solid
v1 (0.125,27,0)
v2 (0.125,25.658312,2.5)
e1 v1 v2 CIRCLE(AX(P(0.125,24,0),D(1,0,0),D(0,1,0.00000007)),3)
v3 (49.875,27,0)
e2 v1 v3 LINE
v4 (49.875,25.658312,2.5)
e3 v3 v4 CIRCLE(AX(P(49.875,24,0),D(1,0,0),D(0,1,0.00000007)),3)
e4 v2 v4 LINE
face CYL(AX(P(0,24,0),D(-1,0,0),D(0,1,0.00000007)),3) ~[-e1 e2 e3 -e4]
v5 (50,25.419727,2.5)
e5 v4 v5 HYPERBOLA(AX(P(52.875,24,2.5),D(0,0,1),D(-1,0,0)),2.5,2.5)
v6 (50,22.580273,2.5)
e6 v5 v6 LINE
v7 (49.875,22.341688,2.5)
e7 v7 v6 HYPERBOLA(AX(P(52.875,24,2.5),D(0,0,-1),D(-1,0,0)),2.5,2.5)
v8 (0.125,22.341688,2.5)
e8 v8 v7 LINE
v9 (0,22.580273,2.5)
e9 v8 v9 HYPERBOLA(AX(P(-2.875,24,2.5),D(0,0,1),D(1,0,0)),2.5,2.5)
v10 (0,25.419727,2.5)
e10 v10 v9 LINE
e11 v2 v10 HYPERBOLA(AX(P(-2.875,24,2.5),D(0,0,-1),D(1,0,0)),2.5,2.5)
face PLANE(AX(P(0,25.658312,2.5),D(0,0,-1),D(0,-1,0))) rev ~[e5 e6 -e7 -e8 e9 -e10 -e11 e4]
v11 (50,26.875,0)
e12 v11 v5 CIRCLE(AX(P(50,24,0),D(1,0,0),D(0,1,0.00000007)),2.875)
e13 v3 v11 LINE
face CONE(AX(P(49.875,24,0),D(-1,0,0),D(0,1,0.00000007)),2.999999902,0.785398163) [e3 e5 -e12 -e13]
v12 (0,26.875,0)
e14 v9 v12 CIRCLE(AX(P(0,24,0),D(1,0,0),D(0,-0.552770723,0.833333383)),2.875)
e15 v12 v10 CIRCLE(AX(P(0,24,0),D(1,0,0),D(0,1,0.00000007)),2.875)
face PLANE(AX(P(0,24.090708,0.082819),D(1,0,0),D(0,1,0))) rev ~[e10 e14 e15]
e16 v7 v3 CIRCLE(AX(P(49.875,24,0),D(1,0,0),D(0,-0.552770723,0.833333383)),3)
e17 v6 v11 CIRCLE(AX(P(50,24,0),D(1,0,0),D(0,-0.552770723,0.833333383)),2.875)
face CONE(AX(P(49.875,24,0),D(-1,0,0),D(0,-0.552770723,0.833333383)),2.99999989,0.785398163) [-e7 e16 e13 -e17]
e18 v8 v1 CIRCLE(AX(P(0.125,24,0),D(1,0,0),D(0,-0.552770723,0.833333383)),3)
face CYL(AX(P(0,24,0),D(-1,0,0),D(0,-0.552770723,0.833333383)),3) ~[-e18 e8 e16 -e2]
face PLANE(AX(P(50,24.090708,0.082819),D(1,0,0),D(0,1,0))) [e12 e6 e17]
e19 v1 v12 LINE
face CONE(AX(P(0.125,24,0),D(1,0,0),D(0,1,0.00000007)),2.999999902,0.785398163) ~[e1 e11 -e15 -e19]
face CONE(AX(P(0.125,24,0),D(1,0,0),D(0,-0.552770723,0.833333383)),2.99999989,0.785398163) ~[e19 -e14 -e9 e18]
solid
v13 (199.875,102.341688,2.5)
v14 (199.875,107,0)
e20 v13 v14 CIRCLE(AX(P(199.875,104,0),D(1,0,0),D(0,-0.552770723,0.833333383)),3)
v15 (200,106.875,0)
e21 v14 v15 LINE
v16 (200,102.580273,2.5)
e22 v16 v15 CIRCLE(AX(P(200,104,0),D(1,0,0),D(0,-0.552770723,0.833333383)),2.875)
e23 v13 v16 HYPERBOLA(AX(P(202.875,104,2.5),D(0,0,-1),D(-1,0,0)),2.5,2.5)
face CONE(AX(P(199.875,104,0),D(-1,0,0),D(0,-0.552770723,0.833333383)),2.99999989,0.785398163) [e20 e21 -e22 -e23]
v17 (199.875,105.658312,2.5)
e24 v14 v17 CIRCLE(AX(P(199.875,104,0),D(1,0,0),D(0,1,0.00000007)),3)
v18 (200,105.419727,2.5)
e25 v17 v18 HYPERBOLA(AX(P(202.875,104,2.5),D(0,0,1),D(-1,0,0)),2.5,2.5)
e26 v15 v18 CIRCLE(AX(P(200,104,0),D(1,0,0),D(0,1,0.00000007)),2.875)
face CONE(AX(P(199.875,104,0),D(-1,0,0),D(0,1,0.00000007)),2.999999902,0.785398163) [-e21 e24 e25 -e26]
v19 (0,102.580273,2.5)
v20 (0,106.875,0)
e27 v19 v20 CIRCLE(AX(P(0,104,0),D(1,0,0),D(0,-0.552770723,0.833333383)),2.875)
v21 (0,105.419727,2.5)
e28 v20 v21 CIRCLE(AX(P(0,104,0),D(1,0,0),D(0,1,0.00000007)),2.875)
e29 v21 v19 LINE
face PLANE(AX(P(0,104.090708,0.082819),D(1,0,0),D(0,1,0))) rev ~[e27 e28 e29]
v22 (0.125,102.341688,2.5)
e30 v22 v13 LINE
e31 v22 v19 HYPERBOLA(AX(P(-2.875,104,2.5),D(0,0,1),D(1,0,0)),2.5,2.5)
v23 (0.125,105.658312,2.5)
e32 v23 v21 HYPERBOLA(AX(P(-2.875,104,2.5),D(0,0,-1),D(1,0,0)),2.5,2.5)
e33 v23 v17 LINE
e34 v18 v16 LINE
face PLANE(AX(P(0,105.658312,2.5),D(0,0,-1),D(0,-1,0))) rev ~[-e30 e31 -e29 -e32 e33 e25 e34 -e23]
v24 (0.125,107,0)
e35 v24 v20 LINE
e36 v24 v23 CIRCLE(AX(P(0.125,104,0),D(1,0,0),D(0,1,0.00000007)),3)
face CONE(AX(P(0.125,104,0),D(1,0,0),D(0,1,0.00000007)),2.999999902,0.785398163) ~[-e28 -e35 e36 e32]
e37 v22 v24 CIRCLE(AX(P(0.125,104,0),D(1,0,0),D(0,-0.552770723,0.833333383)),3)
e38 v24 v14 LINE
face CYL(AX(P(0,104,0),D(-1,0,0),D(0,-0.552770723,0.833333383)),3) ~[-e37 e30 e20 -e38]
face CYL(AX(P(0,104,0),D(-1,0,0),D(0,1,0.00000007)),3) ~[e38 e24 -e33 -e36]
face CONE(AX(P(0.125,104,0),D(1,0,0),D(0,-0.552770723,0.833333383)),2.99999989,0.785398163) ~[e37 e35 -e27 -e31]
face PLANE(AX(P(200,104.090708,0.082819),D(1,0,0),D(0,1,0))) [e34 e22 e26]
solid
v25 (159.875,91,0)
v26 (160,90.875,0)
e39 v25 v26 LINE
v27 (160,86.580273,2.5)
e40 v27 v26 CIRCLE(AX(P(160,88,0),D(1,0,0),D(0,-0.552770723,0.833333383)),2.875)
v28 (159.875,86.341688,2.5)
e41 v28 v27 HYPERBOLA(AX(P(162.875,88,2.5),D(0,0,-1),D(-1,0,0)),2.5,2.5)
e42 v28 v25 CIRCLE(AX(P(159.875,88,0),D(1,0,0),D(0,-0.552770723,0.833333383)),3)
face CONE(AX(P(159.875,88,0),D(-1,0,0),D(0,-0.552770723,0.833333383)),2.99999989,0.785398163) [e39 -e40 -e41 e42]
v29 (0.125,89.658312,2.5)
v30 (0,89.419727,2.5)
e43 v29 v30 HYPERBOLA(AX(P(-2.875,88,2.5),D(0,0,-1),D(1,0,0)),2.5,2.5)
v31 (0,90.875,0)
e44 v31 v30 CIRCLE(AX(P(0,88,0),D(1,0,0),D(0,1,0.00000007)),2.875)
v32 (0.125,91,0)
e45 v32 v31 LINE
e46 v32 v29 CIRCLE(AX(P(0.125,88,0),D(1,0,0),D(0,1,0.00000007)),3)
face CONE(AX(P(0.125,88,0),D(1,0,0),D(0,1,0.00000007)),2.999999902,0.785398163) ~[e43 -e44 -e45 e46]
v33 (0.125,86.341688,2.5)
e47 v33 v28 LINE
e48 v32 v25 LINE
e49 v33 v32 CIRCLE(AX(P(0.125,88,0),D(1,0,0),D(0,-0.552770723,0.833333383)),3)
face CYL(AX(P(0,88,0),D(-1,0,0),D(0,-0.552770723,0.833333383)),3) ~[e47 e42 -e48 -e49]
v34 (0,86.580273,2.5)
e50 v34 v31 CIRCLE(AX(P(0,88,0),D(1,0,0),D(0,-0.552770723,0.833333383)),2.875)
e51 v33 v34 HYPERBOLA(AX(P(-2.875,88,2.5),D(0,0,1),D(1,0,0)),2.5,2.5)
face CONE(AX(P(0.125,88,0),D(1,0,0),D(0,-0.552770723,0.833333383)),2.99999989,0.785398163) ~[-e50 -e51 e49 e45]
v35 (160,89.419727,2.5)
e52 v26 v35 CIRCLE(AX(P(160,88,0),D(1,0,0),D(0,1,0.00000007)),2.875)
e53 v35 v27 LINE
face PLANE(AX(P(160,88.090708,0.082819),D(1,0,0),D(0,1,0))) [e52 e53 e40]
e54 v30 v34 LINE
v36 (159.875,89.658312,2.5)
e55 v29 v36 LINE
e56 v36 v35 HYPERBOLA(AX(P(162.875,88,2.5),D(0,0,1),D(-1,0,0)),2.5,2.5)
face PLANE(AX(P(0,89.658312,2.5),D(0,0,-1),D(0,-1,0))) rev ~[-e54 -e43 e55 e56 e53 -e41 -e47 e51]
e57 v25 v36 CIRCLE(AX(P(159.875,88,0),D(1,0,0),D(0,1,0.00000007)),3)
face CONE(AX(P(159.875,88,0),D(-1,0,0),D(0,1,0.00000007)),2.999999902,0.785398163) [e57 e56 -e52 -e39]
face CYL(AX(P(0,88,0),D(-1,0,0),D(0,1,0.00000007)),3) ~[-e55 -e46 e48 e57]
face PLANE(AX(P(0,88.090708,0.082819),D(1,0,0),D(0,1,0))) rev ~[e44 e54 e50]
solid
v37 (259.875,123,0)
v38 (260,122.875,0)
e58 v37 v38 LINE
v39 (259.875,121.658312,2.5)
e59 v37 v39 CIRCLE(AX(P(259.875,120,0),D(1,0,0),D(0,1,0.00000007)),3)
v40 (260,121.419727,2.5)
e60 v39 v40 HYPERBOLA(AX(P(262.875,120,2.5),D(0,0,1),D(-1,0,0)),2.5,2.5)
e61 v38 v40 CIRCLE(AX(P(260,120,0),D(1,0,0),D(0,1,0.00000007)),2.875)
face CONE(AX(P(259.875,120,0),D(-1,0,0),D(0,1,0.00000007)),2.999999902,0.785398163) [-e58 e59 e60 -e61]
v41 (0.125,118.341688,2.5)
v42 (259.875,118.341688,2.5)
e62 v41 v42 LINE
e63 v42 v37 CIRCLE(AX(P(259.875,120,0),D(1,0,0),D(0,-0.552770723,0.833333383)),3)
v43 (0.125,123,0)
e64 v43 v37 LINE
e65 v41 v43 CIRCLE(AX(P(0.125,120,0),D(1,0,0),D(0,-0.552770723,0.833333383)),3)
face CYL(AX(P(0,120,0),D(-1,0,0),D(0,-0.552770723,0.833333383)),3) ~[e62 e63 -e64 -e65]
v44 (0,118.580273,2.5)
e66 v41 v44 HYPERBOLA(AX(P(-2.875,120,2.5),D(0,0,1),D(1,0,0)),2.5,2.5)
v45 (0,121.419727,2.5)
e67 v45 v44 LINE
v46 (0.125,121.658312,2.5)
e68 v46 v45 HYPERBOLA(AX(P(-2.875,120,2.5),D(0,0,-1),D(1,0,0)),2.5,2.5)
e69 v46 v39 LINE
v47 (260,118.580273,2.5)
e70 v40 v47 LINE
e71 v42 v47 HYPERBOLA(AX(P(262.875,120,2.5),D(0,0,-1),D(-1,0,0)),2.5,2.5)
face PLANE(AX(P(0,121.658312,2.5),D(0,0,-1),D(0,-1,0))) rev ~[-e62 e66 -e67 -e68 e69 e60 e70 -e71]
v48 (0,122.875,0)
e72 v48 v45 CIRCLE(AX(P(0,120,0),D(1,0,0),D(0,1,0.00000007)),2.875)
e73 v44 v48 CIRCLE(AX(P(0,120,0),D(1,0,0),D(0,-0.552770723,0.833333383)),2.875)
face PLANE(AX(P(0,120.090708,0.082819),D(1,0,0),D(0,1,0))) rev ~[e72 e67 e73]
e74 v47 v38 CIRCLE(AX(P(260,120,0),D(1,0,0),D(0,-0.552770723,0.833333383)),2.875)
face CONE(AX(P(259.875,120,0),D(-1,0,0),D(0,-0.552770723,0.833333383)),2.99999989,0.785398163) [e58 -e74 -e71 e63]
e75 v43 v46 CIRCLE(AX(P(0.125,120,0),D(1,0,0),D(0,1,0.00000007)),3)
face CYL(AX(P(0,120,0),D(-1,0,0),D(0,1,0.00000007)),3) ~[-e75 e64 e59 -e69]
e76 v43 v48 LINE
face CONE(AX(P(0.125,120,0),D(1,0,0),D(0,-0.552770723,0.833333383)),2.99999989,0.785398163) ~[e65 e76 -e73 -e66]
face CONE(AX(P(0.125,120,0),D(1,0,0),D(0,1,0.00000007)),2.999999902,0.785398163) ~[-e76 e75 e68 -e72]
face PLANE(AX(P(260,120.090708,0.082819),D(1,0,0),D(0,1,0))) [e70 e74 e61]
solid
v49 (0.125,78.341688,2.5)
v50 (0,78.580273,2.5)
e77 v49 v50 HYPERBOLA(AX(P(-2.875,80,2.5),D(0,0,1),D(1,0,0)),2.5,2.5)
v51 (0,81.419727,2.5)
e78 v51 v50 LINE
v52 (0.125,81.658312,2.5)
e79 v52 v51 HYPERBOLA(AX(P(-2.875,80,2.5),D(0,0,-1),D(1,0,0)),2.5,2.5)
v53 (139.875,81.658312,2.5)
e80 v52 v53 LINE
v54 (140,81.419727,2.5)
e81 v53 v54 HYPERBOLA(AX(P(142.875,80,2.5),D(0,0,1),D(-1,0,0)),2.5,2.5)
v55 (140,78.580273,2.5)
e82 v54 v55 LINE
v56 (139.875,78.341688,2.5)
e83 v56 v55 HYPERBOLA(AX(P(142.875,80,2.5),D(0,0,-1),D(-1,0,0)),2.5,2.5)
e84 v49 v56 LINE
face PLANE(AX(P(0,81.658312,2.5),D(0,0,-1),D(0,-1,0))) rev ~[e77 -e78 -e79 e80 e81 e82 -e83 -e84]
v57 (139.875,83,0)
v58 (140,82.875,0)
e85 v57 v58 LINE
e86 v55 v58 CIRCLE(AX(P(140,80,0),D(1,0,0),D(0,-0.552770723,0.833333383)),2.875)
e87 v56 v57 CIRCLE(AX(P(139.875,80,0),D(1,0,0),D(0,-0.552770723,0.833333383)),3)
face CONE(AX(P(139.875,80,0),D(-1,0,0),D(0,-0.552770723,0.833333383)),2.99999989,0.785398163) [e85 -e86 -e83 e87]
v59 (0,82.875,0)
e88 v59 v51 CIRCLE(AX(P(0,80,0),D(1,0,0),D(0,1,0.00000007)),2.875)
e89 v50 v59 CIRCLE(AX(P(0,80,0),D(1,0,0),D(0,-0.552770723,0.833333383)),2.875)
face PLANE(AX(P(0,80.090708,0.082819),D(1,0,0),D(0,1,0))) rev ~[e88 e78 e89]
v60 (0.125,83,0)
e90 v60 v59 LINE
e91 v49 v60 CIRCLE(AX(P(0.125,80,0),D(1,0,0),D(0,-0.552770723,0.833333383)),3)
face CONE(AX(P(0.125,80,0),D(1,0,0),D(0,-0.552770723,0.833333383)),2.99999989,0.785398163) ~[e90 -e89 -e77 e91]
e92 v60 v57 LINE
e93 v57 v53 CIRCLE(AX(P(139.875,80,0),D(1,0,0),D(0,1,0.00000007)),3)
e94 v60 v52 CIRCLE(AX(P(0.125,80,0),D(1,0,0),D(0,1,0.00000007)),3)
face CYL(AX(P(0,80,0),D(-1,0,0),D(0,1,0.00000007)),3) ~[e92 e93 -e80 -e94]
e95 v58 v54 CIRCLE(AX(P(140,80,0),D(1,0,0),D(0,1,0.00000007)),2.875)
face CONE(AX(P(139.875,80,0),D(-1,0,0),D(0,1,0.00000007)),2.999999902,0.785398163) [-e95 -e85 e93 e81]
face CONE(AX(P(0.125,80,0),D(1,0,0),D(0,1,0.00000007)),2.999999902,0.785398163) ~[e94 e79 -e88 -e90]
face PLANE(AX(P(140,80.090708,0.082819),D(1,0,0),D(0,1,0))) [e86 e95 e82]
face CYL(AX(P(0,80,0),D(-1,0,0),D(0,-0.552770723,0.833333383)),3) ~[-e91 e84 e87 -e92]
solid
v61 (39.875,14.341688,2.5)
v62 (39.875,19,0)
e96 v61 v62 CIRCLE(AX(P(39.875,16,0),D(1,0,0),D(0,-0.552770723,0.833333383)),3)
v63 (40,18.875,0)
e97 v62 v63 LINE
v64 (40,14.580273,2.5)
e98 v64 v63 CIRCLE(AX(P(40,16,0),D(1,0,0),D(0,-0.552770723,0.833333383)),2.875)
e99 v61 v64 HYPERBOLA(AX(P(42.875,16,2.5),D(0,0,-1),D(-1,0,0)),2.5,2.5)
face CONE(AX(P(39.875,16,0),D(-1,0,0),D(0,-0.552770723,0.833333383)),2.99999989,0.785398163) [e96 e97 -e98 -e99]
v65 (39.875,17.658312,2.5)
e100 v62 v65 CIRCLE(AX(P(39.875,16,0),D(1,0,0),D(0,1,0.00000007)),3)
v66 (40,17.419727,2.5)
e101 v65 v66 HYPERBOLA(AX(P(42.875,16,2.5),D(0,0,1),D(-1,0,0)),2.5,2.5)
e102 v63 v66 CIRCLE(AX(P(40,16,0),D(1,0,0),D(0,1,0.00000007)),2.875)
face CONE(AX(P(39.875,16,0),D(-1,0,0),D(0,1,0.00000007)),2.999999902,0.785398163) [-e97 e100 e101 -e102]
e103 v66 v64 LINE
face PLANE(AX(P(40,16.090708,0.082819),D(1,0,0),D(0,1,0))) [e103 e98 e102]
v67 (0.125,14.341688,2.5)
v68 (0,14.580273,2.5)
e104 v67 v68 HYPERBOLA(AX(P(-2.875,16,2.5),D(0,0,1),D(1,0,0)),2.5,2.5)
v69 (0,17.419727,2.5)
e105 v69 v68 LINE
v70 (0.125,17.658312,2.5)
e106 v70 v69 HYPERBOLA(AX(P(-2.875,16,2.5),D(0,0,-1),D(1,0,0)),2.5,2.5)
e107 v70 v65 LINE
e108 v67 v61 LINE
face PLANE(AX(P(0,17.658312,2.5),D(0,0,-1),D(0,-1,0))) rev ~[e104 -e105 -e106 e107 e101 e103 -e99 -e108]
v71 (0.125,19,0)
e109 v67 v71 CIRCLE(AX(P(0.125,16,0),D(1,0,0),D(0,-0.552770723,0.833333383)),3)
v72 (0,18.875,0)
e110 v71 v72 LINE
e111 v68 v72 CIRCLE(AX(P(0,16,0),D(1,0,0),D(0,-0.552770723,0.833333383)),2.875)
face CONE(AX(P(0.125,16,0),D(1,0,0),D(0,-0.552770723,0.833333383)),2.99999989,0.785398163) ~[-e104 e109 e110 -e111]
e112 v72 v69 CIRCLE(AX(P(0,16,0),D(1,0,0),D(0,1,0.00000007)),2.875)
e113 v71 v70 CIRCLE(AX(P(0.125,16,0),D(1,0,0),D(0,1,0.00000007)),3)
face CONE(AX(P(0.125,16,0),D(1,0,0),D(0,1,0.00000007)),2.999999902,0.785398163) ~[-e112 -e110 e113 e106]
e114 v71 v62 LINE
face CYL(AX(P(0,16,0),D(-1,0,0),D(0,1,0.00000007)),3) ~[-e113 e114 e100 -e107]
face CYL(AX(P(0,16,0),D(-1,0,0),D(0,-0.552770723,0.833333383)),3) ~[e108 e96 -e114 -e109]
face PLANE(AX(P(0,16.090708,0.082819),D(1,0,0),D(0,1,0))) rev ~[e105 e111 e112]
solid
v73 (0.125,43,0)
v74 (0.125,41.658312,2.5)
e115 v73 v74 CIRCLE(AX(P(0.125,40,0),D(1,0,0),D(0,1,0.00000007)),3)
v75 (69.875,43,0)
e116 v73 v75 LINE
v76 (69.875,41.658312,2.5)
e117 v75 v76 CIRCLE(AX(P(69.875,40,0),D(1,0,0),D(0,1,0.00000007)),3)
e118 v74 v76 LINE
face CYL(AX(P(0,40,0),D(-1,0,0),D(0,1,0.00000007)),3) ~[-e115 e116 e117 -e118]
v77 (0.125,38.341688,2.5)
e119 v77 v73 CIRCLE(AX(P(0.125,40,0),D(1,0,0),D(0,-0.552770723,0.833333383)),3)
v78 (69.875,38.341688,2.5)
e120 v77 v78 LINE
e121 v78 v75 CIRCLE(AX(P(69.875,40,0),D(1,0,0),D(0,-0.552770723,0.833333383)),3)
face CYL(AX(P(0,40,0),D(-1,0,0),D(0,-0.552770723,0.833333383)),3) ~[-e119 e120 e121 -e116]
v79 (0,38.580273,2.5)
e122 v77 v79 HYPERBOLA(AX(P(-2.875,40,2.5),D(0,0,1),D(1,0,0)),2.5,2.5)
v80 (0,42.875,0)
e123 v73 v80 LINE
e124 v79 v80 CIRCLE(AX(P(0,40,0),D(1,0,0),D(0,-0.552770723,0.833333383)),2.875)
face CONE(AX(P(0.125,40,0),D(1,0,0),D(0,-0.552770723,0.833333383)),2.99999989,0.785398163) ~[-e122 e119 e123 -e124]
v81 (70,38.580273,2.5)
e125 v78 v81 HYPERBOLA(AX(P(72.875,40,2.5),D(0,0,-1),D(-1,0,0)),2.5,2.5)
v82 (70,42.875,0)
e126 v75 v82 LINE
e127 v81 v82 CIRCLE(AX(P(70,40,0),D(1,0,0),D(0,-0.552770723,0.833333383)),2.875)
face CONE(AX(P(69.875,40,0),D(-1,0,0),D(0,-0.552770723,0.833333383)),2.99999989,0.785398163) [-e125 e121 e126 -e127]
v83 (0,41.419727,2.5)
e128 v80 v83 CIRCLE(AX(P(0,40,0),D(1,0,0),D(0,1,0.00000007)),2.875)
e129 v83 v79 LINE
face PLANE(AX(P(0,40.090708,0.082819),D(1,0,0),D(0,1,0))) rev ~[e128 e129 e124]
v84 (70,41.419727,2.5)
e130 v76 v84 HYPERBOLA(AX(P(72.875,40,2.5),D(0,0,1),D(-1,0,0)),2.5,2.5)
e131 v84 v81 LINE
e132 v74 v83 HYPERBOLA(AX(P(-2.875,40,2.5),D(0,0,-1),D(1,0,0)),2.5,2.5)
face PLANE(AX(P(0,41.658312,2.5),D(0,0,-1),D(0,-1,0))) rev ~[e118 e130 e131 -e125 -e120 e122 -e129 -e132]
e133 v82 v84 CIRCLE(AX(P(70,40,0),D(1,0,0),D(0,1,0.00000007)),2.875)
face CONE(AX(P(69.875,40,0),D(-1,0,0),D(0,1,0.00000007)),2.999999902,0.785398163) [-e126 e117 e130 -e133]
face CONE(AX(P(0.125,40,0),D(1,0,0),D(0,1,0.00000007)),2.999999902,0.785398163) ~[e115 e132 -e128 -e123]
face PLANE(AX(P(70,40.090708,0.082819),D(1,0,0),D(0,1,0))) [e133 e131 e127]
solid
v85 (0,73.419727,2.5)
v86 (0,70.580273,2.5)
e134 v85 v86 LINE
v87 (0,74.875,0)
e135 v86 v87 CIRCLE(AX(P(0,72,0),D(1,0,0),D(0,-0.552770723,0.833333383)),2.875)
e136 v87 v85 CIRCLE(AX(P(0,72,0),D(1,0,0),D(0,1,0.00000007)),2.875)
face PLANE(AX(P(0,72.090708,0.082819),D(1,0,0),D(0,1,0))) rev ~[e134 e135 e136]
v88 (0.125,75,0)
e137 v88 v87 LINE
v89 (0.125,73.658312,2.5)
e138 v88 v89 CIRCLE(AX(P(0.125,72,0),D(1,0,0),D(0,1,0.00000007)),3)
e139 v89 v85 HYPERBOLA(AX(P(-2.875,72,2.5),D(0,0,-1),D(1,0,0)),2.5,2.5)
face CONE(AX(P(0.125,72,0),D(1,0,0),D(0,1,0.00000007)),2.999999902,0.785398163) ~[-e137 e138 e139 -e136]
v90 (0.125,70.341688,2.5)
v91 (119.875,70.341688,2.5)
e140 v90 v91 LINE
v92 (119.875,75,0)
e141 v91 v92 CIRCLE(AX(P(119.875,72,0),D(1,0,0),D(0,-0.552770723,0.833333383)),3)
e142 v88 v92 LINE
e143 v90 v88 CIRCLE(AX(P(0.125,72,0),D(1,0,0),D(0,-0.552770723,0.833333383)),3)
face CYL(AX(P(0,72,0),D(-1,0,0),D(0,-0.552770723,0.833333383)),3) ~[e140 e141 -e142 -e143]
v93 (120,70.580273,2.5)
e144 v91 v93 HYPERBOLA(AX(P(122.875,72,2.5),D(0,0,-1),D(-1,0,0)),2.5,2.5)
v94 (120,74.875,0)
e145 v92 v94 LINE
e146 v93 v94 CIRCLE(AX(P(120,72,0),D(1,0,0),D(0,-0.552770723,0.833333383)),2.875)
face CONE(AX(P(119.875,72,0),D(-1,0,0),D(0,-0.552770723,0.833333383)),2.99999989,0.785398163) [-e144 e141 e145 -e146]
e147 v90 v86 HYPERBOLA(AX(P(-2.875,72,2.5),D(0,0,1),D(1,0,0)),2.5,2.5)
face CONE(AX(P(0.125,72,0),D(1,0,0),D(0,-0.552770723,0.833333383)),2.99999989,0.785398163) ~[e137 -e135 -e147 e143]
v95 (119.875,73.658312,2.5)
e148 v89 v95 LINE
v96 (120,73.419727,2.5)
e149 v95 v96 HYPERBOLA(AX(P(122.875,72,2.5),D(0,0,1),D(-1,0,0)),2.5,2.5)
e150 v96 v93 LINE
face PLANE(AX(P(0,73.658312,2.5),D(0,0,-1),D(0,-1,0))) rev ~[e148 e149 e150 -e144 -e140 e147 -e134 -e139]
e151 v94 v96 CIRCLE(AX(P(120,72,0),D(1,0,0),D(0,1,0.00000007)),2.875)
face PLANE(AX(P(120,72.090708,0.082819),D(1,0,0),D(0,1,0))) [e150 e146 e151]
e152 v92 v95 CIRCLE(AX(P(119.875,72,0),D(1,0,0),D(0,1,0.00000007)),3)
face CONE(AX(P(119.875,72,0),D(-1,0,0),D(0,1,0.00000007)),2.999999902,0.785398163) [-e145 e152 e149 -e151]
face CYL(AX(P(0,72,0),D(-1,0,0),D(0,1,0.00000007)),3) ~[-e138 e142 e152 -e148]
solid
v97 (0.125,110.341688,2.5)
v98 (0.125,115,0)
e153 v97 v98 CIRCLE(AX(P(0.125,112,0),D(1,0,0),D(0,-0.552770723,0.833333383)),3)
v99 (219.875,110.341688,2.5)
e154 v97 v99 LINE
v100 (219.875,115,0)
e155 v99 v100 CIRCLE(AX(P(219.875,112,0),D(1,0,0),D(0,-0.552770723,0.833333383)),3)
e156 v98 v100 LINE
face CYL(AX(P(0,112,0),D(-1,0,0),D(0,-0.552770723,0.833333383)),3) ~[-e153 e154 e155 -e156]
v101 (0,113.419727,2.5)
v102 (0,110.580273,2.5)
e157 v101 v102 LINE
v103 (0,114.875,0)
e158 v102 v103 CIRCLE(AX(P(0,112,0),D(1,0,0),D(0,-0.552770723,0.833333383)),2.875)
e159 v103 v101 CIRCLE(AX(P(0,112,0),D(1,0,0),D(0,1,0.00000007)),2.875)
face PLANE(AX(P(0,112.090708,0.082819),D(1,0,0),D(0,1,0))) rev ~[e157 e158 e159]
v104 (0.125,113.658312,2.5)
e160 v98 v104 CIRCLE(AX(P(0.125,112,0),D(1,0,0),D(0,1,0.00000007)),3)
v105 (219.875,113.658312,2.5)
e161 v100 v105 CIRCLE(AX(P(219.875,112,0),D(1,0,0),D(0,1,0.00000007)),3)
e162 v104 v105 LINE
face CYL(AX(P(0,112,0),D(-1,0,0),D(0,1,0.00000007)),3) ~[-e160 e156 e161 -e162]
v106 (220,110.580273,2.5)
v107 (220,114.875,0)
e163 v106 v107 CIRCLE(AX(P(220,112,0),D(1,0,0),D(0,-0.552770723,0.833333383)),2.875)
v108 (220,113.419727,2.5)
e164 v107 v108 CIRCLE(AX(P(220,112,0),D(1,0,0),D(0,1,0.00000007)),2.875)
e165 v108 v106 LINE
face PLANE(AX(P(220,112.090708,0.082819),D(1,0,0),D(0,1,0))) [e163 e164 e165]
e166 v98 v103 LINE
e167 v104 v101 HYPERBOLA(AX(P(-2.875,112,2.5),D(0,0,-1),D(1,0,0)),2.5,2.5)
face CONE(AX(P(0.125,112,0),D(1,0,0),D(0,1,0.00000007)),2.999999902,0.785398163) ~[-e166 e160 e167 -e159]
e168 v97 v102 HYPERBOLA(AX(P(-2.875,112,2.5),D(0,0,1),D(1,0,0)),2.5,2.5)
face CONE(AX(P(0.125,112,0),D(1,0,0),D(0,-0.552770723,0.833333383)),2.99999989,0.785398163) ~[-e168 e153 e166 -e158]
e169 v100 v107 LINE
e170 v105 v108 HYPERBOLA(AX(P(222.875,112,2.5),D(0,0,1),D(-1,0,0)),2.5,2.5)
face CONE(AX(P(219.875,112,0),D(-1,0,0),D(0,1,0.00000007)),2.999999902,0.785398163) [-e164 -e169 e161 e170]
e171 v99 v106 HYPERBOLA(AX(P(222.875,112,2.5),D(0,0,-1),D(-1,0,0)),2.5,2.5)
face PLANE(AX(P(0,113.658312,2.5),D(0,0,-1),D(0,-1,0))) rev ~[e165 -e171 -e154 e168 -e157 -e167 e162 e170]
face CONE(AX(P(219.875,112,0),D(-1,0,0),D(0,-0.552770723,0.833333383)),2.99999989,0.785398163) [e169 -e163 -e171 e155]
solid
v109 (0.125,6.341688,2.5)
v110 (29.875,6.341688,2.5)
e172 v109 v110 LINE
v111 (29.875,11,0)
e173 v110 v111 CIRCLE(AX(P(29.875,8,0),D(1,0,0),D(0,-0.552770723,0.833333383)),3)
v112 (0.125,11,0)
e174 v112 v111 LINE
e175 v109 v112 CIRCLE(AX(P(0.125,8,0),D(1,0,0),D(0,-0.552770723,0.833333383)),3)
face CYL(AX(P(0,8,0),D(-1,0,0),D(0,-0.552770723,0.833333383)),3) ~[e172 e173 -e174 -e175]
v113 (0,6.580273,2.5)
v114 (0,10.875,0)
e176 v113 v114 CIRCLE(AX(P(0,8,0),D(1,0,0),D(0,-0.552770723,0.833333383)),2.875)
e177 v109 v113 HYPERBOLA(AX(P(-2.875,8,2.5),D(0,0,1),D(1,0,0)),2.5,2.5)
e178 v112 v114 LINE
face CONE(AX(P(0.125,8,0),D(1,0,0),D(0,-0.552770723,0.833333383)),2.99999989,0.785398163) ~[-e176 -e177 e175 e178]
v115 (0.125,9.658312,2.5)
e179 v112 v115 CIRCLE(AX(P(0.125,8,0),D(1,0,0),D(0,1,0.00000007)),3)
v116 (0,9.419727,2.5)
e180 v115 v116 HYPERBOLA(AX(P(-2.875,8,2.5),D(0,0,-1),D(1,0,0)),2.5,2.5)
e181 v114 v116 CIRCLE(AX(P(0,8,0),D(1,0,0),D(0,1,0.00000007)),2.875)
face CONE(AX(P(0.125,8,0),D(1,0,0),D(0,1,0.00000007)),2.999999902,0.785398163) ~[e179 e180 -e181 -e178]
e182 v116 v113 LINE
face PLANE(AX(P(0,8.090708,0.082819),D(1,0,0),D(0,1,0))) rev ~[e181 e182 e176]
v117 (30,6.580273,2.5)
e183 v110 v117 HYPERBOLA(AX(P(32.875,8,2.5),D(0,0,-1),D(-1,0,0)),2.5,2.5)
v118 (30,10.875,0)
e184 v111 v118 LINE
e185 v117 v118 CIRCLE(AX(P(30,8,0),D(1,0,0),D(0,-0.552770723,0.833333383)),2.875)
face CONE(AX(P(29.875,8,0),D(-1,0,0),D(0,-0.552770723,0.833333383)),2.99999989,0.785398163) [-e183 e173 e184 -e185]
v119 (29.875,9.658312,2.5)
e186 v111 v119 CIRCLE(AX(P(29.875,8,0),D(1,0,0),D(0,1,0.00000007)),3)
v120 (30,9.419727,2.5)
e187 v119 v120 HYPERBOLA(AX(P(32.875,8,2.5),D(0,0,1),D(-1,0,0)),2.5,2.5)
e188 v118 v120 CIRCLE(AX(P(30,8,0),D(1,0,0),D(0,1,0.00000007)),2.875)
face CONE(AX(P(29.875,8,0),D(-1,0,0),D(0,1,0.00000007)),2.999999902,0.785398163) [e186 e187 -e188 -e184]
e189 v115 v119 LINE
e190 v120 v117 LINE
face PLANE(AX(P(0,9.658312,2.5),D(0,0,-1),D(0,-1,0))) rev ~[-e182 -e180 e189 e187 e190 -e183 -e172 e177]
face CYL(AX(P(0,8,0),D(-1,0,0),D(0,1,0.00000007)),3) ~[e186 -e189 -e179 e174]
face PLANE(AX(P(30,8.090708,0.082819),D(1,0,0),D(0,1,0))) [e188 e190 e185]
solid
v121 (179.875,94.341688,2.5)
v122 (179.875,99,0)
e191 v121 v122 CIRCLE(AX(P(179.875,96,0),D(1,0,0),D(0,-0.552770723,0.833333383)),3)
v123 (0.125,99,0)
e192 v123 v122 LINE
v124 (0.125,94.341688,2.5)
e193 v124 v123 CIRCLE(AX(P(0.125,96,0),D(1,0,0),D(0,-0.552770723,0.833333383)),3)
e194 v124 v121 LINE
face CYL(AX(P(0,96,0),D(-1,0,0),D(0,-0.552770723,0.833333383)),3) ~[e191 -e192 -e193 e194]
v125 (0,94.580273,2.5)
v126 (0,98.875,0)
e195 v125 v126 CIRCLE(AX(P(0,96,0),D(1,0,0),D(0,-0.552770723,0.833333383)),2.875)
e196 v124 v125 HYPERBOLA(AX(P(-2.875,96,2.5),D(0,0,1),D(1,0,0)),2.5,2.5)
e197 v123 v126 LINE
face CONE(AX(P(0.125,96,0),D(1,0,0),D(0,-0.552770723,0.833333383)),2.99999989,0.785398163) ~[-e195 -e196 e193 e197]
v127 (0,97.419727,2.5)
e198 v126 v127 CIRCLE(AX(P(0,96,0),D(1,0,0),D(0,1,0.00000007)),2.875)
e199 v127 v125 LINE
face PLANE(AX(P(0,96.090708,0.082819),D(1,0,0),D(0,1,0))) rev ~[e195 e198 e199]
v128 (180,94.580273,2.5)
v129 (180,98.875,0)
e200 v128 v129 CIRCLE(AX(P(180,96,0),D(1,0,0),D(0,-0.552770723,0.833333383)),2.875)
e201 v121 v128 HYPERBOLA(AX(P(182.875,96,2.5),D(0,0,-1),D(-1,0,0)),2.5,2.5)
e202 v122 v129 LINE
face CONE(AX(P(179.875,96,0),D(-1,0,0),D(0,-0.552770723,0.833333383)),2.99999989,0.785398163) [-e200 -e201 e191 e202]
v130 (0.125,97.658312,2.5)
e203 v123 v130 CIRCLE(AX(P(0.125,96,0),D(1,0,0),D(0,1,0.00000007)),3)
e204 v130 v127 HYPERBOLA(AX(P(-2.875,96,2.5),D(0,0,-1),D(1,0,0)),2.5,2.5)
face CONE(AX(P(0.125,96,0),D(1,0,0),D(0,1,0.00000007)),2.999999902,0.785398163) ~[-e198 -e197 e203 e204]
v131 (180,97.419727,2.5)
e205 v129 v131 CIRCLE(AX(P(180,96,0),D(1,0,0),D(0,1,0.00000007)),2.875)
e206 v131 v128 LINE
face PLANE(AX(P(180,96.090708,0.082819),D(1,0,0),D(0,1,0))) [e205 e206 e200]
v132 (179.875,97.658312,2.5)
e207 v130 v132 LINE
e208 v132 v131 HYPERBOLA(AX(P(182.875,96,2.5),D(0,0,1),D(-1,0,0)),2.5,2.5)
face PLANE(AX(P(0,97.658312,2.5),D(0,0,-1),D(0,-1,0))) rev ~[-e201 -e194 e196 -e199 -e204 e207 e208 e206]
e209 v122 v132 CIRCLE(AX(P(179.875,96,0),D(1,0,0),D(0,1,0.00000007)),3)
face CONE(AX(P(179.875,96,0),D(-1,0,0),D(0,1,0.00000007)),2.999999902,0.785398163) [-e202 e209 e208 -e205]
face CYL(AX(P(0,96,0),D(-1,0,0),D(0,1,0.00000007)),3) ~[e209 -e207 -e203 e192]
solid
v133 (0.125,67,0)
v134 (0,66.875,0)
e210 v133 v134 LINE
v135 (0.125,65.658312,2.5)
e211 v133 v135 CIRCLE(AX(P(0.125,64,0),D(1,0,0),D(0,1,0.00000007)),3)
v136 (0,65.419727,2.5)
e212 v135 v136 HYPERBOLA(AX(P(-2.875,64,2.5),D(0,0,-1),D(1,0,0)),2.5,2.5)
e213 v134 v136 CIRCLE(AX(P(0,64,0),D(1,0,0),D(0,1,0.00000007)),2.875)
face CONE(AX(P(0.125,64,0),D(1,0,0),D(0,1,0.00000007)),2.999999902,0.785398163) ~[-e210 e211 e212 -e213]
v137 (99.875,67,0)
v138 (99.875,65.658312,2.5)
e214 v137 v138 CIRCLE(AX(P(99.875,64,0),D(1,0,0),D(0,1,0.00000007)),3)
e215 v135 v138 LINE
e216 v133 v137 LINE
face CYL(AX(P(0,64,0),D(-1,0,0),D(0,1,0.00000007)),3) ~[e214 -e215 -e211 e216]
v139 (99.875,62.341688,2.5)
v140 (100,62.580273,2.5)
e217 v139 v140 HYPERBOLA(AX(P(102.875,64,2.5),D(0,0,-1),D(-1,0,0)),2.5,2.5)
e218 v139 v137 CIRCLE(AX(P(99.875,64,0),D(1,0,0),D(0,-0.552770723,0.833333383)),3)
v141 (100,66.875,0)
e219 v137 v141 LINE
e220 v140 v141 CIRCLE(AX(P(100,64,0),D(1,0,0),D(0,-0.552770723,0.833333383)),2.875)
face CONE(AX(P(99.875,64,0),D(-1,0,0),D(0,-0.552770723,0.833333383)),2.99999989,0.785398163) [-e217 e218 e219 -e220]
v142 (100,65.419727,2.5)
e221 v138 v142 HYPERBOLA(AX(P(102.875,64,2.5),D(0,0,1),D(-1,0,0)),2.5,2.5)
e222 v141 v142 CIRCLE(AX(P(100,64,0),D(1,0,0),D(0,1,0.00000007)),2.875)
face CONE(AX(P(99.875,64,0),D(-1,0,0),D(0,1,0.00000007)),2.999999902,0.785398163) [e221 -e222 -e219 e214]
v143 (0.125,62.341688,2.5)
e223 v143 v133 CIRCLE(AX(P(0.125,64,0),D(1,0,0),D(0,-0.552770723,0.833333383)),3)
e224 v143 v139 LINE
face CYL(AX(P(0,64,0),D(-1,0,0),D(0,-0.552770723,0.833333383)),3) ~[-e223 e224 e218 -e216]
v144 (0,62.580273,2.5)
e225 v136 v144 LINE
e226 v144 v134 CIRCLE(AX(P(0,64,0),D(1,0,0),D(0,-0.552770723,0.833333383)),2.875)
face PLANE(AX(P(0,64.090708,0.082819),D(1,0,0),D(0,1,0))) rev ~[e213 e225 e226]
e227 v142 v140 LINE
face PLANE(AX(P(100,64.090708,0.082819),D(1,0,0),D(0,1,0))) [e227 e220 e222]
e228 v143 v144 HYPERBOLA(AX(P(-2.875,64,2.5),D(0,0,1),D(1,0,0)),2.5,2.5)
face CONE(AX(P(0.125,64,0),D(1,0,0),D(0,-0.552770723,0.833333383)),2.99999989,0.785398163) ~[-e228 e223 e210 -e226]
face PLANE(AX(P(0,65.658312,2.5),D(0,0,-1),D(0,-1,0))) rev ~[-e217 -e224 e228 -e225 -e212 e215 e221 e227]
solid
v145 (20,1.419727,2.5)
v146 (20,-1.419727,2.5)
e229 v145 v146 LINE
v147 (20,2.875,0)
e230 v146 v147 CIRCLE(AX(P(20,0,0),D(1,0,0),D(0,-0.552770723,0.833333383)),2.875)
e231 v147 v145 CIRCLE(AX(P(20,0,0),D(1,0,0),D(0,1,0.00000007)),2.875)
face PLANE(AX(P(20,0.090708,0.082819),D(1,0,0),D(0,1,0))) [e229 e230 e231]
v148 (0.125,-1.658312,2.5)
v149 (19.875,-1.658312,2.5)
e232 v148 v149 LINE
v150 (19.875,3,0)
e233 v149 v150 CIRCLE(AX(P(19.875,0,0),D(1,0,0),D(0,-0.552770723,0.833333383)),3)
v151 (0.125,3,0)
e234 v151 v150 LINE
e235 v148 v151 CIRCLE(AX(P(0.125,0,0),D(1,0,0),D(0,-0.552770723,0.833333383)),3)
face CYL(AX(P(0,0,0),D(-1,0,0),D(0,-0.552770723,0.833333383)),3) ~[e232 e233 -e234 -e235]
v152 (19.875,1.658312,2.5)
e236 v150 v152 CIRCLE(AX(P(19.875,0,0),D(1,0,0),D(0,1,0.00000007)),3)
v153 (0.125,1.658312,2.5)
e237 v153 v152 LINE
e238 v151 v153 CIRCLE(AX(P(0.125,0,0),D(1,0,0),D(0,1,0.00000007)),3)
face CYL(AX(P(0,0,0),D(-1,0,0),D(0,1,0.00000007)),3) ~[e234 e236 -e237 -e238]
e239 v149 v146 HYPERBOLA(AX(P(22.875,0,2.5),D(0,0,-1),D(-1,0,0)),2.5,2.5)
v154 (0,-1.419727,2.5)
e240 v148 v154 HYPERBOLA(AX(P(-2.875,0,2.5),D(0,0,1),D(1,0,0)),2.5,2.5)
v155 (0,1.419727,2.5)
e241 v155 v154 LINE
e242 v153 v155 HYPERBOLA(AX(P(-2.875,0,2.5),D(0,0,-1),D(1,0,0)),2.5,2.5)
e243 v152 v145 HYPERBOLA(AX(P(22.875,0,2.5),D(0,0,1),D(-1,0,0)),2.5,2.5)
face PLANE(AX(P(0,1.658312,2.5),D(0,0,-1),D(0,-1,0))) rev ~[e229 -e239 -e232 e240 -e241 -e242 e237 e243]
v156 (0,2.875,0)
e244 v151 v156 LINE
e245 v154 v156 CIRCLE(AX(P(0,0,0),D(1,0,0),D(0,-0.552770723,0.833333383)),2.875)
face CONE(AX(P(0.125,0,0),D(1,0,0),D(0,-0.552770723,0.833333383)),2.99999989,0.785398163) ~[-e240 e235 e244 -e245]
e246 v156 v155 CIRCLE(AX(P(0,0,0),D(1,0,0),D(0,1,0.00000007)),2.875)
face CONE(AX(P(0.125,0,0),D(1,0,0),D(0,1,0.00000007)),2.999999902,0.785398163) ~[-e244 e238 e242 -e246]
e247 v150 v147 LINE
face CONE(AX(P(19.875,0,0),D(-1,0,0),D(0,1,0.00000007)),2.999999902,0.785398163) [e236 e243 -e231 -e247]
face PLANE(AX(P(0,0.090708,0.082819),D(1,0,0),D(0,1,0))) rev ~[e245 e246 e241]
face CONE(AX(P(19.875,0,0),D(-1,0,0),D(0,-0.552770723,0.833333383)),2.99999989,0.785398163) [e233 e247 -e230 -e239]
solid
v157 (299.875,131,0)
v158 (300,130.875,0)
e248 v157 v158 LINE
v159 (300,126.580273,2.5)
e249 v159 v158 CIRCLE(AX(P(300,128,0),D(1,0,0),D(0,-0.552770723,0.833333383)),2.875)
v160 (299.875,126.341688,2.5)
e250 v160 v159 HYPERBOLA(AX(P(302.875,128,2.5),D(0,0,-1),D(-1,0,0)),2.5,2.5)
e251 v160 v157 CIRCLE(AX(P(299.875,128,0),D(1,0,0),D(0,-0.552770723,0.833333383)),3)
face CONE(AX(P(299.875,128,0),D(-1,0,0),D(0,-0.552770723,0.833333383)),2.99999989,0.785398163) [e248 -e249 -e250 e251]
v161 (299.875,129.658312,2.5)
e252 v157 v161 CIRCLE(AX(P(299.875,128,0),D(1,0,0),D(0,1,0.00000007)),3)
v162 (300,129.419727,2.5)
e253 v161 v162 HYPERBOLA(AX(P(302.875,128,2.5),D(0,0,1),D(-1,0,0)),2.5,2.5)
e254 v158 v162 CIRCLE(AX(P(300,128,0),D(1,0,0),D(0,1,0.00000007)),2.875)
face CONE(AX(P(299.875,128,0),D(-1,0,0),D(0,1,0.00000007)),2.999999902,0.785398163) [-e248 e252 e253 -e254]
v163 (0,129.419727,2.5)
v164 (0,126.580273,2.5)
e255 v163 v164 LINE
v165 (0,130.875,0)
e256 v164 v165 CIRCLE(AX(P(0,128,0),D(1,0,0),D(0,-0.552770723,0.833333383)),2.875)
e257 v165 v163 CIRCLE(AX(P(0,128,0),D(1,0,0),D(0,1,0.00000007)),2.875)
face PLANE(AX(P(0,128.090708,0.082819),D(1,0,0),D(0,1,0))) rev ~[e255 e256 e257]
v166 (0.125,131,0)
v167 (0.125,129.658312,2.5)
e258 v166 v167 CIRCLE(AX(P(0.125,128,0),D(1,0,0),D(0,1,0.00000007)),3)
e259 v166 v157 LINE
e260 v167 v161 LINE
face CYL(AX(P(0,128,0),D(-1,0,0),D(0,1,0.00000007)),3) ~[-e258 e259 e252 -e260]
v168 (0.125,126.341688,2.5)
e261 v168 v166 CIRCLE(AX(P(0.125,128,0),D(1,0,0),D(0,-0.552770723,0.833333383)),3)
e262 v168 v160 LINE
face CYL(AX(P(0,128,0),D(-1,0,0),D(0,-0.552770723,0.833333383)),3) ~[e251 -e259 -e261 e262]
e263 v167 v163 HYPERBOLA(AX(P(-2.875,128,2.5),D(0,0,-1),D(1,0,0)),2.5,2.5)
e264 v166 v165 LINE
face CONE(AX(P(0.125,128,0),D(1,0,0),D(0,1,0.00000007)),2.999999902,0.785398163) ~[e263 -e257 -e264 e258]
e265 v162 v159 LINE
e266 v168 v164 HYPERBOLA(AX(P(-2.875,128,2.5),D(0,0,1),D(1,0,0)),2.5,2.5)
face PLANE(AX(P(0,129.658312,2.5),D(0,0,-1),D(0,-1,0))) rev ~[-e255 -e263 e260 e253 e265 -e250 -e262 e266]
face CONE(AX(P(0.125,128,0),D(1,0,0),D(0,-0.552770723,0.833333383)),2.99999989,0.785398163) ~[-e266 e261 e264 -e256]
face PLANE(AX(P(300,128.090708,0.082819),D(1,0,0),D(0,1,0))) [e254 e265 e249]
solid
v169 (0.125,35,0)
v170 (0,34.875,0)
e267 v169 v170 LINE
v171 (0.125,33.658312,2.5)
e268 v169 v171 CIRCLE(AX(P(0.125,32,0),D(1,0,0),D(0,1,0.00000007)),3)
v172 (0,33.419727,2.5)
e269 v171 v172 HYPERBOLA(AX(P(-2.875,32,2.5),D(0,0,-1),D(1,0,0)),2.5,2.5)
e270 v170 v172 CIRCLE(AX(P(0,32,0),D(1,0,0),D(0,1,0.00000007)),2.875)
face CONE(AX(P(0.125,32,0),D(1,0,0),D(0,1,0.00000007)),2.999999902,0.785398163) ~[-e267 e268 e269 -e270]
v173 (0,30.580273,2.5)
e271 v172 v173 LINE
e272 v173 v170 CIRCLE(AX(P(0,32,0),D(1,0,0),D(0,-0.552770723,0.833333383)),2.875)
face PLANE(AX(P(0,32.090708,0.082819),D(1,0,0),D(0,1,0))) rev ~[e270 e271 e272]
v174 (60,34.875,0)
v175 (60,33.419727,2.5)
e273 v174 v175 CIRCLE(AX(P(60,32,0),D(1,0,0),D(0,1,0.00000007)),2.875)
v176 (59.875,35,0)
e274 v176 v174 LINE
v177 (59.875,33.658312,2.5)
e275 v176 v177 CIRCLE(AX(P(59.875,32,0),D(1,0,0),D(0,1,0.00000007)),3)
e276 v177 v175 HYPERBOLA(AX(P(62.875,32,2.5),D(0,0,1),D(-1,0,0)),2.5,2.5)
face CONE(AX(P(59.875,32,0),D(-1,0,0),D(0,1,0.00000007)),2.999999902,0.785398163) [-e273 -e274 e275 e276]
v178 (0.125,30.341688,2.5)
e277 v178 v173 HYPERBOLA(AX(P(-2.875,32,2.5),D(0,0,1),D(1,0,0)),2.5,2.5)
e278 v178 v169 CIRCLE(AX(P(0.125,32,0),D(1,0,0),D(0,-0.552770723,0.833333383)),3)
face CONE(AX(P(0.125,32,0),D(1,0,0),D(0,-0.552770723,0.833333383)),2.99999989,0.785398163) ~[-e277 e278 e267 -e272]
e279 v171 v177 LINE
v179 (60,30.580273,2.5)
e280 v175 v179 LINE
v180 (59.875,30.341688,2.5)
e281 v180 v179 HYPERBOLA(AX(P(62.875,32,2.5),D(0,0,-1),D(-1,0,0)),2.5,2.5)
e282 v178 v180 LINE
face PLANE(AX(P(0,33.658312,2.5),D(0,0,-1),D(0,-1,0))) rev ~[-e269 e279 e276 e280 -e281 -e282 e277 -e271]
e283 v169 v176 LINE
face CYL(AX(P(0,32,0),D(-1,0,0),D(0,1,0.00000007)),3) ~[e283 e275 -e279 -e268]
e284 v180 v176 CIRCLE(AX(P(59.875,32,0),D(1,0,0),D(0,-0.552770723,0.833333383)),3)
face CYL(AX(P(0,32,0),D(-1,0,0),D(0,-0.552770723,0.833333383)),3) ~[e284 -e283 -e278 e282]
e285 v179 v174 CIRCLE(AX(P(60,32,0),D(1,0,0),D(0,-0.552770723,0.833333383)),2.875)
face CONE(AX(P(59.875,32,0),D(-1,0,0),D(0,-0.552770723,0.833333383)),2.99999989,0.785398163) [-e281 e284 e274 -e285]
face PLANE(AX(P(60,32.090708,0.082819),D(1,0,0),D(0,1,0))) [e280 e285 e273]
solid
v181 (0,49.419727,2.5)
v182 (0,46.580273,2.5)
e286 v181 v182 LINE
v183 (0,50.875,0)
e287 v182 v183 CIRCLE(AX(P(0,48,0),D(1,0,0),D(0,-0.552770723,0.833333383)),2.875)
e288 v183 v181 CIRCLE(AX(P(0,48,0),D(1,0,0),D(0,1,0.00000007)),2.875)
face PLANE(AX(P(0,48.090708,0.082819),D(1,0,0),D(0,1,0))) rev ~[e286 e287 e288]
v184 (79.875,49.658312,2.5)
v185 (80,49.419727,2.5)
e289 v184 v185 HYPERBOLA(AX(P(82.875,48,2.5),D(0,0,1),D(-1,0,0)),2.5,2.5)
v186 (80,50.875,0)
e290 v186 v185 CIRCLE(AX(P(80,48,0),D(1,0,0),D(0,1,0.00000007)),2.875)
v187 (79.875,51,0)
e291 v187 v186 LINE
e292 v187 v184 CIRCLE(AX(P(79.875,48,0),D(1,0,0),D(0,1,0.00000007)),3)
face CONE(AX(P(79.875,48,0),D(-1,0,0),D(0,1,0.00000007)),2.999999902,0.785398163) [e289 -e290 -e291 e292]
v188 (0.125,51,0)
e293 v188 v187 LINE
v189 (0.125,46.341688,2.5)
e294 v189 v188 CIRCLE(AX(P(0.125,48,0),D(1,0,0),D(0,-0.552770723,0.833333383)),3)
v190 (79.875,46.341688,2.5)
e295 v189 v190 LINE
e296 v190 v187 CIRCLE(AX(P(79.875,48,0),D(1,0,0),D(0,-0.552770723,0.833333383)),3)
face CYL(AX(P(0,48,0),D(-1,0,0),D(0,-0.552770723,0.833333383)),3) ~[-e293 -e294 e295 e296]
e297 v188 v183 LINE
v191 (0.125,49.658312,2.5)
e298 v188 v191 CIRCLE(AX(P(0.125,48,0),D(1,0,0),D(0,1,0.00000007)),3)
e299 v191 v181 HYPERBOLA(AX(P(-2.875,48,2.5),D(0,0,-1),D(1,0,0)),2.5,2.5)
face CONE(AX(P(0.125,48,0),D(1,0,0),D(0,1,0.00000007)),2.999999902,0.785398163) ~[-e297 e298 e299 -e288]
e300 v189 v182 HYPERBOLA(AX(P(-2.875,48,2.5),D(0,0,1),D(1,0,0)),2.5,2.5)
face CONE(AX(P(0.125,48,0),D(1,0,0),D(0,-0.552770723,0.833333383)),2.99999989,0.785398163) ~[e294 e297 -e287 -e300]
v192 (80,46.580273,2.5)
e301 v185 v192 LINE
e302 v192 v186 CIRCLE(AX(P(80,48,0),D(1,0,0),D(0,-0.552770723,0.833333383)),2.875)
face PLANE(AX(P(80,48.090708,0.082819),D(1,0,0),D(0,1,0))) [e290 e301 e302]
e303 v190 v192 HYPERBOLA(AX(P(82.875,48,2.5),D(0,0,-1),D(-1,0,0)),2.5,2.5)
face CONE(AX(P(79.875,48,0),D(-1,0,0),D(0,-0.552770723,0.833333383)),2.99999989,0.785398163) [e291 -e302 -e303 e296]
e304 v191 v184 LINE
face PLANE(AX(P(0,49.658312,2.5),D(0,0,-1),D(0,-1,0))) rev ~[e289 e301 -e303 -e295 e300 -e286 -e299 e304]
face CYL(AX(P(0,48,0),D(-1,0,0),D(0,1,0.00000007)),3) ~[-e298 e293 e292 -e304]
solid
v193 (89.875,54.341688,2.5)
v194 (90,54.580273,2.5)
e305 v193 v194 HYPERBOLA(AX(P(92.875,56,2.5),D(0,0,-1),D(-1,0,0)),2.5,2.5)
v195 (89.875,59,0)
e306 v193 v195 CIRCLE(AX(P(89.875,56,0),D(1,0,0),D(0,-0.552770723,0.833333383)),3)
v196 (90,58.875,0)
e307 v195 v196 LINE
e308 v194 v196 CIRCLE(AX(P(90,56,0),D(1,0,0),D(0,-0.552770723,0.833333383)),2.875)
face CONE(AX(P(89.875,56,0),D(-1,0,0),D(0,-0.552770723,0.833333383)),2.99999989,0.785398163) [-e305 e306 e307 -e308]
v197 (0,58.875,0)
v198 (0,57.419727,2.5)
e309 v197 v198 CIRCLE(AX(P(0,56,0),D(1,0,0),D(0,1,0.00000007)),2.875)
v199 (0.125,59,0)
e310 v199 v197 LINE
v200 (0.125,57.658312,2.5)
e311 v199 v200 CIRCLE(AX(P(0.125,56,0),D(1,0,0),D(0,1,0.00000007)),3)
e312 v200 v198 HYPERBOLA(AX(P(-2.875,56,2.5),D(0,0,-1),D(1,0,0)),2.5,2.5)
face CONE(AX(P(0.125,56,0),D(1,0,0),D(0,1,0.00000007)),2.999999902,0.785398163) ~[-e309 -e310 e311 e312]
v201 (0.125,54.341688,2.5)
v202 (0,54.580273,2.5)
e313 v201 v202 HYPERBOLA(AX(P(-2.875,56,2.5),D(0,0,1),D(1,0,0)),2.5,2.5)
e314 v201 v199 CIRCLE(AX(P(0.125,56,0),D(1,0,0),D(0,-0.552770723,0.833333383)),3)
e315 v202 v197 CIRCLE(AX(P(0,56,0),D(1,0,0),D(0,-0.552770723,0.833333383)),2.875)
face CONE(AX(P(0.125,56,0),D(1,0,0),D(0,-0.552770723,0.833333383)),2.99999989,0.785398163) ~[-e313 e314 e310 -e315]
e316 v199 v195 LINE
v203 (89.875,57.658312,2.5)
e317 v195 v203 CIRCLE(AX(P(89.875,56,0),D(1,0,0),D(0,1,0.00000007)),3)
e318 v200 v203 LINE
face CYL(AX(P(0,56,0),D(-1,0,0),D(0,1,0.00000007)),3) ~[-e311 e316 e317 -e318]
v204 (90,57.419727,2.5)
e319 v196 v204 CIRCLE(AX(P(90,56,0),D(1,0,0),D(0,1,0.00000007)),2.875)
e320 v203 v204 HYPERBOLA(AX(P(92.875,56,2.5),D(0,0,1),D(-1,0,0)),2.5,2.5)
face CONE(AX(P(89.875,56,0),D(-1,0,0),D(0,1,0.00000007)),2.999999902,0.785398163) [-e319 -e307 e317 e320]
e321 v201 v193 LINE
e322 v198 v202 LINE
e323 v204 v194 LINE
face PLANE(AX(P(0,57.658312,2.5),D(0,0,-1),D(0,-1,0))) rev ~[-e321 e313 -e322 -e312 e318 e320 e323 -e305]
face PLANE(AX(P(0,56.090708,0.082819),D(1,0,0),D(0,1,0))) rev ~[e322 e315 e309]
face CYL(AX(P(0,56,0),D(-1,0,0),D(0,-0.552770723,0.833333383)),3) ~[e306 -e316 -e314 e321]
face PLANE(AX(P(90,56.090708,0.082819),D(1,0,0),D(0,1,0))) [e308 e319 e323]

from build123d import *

# Parameters (mm, degrees)
F1_DEPTH    = 20
F2_DEPTH    = 30
F3_DEPTH    = 40
F4_DEPTH    = 50
F5_DEPTH    = 60
F6_DEPTH    = 70
F7_DEPTH    = 80
F8_DEPTH    = 90
F9_DEPTH    = 100
F10_DEPTH   = 120
F11_DEPTH   = 140
F12_DEPTH   = 160
F13_DEPTH   = 180
F14_DEPTH   = 200
F15_DEPTH   = 220
F16_DEPTH   = 260
F17_DEPTH   = 300
F18_SIZE    = 0.125
F18_2_SIZE  = 0.125
F18_3_SIZE  = 0.125
F18_4_SIZE  = 0.125
F18_5_SIZE  = 0.125
F18_6_SIZE  = 0.125
F18_7_SIZE  = 0.125
F18_8_SIZE  = 0.125
F18_9_SIZE  = 0.125
F18_10_SIZE = 0.125
F18_11_SIZE = 0.125
F18_12_SIZE = 0.125
F18_13_SIZE = 0.125
F18_14_SIZE = 0.125
F18_15_SIZE = 0.125
F18_16_SIZE = 0.125
F18_17_SIZE = 0.125


with BuildPart() as f1:
    # F0 (on Right) → F1 (new body)
    with BuildSketch(Plane.YZ):
        with BuildLine():
            ThreePointArc((-1.658312, 2.5), (-1.418637, -2.643382), (3, 0))
            ThreePointArc((3, 0), (2.643382, 1.418637), (1.658312, 2.5))
            Line((1.658312, 2.5), (-1.658312, 2.5))
        make_face()
    extrude(amount=F1_DEPTH)

    # F18#17
    f18_17_edges = [f1.edges().sort_by_distance(p)[0] for p in [
        (0, -1.418637, -2.643382),
        (20, -1.418637, -2.643382),
    ]]
    chamfer(f18_17_edges, length=F18_17_SIZE)


with BuildPart() as f2:
    # F0 (on Right) → F2 (new body)
    with BuildSketch(Plane.YZ):
        with BuildLine():
            ThreePointArc((6.341688, 2.5), (6.581363, -2.643382), (11, 0))
            ThreePointArc((11, 0), (10.643382, 1.418637), (9.658312, 2.5))
            Line((9.658312, 2.5), (6.341688, 2.5))
        make_face()
    extrude(amount=F2_DEPTH)

    # F18#16
    f18_16_edges = [f2.edges().sort_by_distance(p)[0] for p in [
        (0, 6.581363, -2.643382),
        (30, 6.581363, -2.643382),
    ]]
    chamfer(f18_16_edges, length=F18_16_SIZE)


with BuildPart() as f3:
    # F0 (on Right) → F3 (new body)
    with BuildSketch(Plane.YZ):
        with BuildLine():
            ThreePointArc((14.341688, 2.5), (14.581363, -2.643382), (19, 0))
            ThreePointArc((19, 0), (18.643382, 1.418637), (17.658312, 2.5))
            Line((17.658312, 2.5), (14.341688, 2.5))
        make_face()
    extrude(amount=F3_DEPTH)

    # F18#15
    f18_15_edges = [f3.edges().sort_by_distance(p)[0] for p in [
        (0, 14.581363, -2.643382),
        (40, 14.581363, -2.643382),
    ]]
    chamfer(f18_15_edges, length=F18_15_SIZE)


with BuildPart() as f4:
    # F0 (on Right) → F4 (new body)
    with BuildSketch(Plane.YZ):
        with BuildLine():
            ThreePointArc((22.341688, 2.5), (22.581363, -2.643382), (27, 0))
            ThreePointArc((27, 0), (26.643382, 1.418637), (25.658312, 2.5))
            Line((25.658312, 2.5), (22.341688, 2.5))
        make_face()
    extrude(amount=F4_DEPTH)

    # F18#14
    f18_14_edges = [f4.edges().sort_by_distance(p)[0] for p in [
        (0, 22.581363, -2.643382),
        (50, 22.581363, -2.643382),
    ]]
    chamfer(f18_14_edges, length=F18_14_SIZE)


with BuildPart() as f5:
    # F0 (on Right) → F5 (new body)
    with BuildSketch(Plane.YZ):
        with BuildLine():
            ThreePointArc((30.341688, 2.5), (30.581363, -2.643382), (35, 0))
            ThreePointArc((35, 0), (34.643382, 1.418637), (33.658312, 2.5))
            Line((33.658312, 2.5), (30.341688, 2.5))
        make_face()
    extrude(amount=F5_DEPTH)

    # F18#13
    f18_13_edges = [f5.edges().sort_by_distance(p)[0] for p in [
        (0, 30.581363, -2.643382),
        (60, 30.581363, -2.643382),
    ]]
    chamfer(f18_13_edges, length=F18_13_SIZE)


with BuildPart() as f6:
    # F0 (on Right) → F6 (new body)
    with BuildSketch(Plane.YZ):
        with BuildLine():
            ThreePointArc((38.341688, 2.5), (38.581363, -2.643382), (43, 0))
            ThreePointArc((43, 0), (42.643382, 1.418637), (41.658312, 2.5))
            Line((41.658312, 2.5), (38.341688, 2.5))
        make_face()
    extrude(amount=F6_DEPTH)

    # F18#12
    f18_12_edges = [f6.edges().sort_by_distance(p)[0] for p in [
        (0, 38.581363, -2.643382),
        (70, 38.581363, -2.643382),
    ]]
    chamfer(f18_12_edges, length=F18_12_SIZE)


with BuildPart() as f7:
    # F0 (on Right) → F7 (new body)
    with BuildSketch(Plane.YZ):
        with BuildLine():
            ThreePointArc((46.341688, 2.5), (46.581363, -2.643382), (51, 0))
            ThreePointArc((51, 0), (50.643382, 1.418637), (49.658312, 2.5))
            Line((49.658312, 2.5), (46.341688, 2.5))
        make_face()
    extrude(amount=F7_DEPTH)

    # F18#11
    f18_11_edges = [f7.edges().sort_by_distance(p)[0] for p in [
        (0, 46.581363, -2.643382),
        (80, 46.581363, -2.643382),
    ]]
    chamfer(f18_11_edges, length=F18_11_SIZE)


with BuildPart() as f8:
    # F0 (on Right) → F8 (new body)
    with BuildSketch(Plane.YZ):
        with BuildLine():
            ThreePointArc((54.341688, 2.5), (54.581363, -2.643382), (59, 0))
            ThreePointArc((59, 0), (58.643382, 1.418637), (57.658312, 2.5))
            Line((57.658312, 2.5), (54.341688, 2.5))
        make_face()
    extrude(amount=F8_DEPTH)

    # F18#10
    f18_10_edges = [f8.edges().sort_by_distance(p)[0] for p in [
        (0, 54.581363, -2.643382),
        (90, 54.581363, -2.643382),
    ]]
    chamfer(f18_10_edges, length=F18_10_SIZE)


with BuildPart() as f9:
    # F0 (on Right) → F9 (new body)
    with BuildSketch(Plane.YZ):
        with BuildLine():
            ThreePointArc((62.341688, 2.5), (62.581363, -2.643382), (67, 0))
            ThreePointArc((67, 0), (66.643382, 1.418637), (65.658312, 2.5))
            Line((65.658312, 2.5), (62.341688, 2.5))
        make_face()
    extrude(amount=F9_DEPTH)

    # F18#9
    f18_9_edges = [f9.edges().sort_by_distance(p)[0] for p in [
        (0, 62.581363, -2.643382),
        (100, 62.581363, -2.643382),
    ]]
    chamfer(f18_9_edges, length=F18_9_SIZE)


with BuildPart() as f10:
    # F0 (on Right) → F10 (new body)
    with BuildSketch(Plane.YZ):
        with BuildLine():
            ThreePointArc((70.341688, 2.5), (70.581363, -2.643382), (75, 0))
            ThreePointArc((75, 0), (74.643382, 1.418637), (73.658312, 2.5))
            Line((73.658312, 2.5), (70.341688, 2.5))
        make_face()
    extrude(amount=F10_DEPTH)

    # F18#8
    f18_8_edges = [f10.edges().sort_by_distance(p)[0] for p in [
        (0, 70.581363, -2.643382),
        (120, 70.581363, -2.643382),
    ]]
    chamfer(f18_8_edges, length=F18_8_SIZE)


with BuildPart() as f11:
    # F0 (on Right) → F11 (new body)
    with BuildSketch(Plane.YZ):
        with BuildLine():
            ThreePointArc((78.341688, 2.5), (78.581363, -2.643382), (83, 0))
            ThreePointArc((83, 0), (82.643382, 1.418637), (81.658312, 2.5))
            Line((81.658312, 2.5), (78.341688, 2.5))
        make_face()
    extrude(amount=F11_DEPTH)

    # F18#7
    f18_7_edges = [f11.edges().sort_by_distance(p)[0] for p in [
        (0, 78.581363, -2.643382),
        (140, 78.581363, -2.643382),
    ]]
    chamfer(f18_7_edges, length=F18_7_SIZE)


with BuildPart() as f12:
    # F0 (on Right) → F12 (new body)
    with BuildSketch(Plane.YZ):
        with BuildLine():
            ThreePointArc((86.341688, 2.5), (86.581363, -2.643382), (91, 0))
            ThreePointArc((91, 0), (90.643382, 1.418637), (89.658312, 2.5))
            Line((89.658312, 2.5), (86.341688, 2.5))
        make_face()
    extrude(amount=F12_DEPTH)

    # F18#6
    f18_6_edges = [f12.edges().sort_by_distance(p)[0] for p in [
        (0, 86.581363, -2.643382),
        (160, 86.581363, -2.643382),
    ]]
    chamfer(f18_6_edges, length=F18_6_SIZE)


with BuildPart() as f13:
    # F0 (on Right) → F13 (new body)
    with BuildSketch(Plane.YZ):
        with BuildLine():
            ThreePointArc((94.341688, 2.5), (94.581363, -2.643382), (99, 0))
            ThreePointArc((99, 0), (98.643382, 1.418637), (97.658312, 2.5))
            Line((97.658312, 2.5), (94.341688, 2.5))
        make_face()
    extrude(amount=F13_DEPTH)

    # F18#5
    f18_5_edges = [f13.edges().sort_by_distance(p)[0] for p in [
        (0, 94.581363, -2.643382),
        (180, 94.581363, -2.643382),
    ]]
    chamfer(f18_5_edges, length=F18_5_SIZE)


with BuildPart() as f14:
    # F0 (on Right) → F14 (new body)
    with BuildSketch(Plane.YZ):
        with BuildLine():
            ThreePointArc((102.341688, 2.5), (102.581363, -2.643382), (107, 0))
            ThreePointArc((107, 0), (106.643382, 1.418637), (105.658312, 2.5))
            Line((105.658312, 2.5), (102.341688, 2.5))
        make_face()
    extrude(amount=F14_DEPTH)

    # F18#4
    f18_4_edges = [f14.edges().sort_by_distance(p)[0] for p in [
        (0, 102.581363, -2.643382),
        (200, 102.581363, -2.643382),
    ]]
    chamfer(f18_4_edges, length=F18_4_SIZE)


with BuildPart() as f15:
    # F0 (on Right) → F15 (new body)
    with BuildSketch(Plane.YZ):
        with BuildLine():
            ThreePointArc((110.341688, 2.5), (110.581363, -2.643382), (115, 0))
            ThreePointArc((115, 0), (114.643382, 1.418637), (113.658312, 2.5))
            Line((113.658312, 2.5), (110.341688, 2.5))
        make_face()
    extrude(amount=F15_DEPTH)

    # F18#3
    f18_3_edges = [f15.edges().sort_by_distance(p)[0] for p in [
        (0, 110.581363, -2.643382),
        (220, 110.581363, -2.643382),
    ]]
    chamfer(f18_3_edges, length=F18_3_SIZE)


with BuildPart() as f16:
    # F0 (on Right) → F16 (new body)
    with BuildSketch(Plane.YZ):
        with BuildLine():
            ThreePointArc((118.341688, 2.5), (118.581363, -2.643382), (123, 0))
            ThreePointArc((123, 0), (122.643382, 1.418637), (121.658312, 2.5))
            Line((121.658312, 2.5), (118.341688, 2.5))
        make_face()
    extrude(amount=F16_DEPTH)

    # F18#2
    f18_2_edges = [f16.edges().sort_by_distance(p)[0] for p in [
        (0, 118.581363, -2.643382),
        (260, 118.581363, -2.643382),
    ]]
    chamfer(f18_2_edges, length=F18_2_SIZE)


with BuildPart() as f17:
    # F0 (on Right) → F17 (new body)
    with BuildSketch(Plane.YZ):
        with BuildLine():
            ThreePointArc((126.341688, 2.5), (126.581363, -2.643382), (131, 0))
            ThreePointArc((131, 0), (130.643382, 1.418637), (129.658312, 2.5))
            Line((129.658312, 2.5), (126.341688, 2.5))
        make_face()
    extrude(amount=F17_DEPTH)

    # F18
    f18_edges = [f17.edges().sort_by_distance(p)[0] for p in [
        (0, 126.581363, -2.643382),
        (300, 126.581363, -2.643382),
    ]]
    chamfer(f18_edges, length=F18_SIZE)


solid = Compound([f1.part, f2.part, f3.part, f4.part, f5.part, f6.part, f7.part, f8.part, f9.part, f10.part, f11.part, f12.part, f13.part, f14.part, f15.part, f16.part, f17.part])
